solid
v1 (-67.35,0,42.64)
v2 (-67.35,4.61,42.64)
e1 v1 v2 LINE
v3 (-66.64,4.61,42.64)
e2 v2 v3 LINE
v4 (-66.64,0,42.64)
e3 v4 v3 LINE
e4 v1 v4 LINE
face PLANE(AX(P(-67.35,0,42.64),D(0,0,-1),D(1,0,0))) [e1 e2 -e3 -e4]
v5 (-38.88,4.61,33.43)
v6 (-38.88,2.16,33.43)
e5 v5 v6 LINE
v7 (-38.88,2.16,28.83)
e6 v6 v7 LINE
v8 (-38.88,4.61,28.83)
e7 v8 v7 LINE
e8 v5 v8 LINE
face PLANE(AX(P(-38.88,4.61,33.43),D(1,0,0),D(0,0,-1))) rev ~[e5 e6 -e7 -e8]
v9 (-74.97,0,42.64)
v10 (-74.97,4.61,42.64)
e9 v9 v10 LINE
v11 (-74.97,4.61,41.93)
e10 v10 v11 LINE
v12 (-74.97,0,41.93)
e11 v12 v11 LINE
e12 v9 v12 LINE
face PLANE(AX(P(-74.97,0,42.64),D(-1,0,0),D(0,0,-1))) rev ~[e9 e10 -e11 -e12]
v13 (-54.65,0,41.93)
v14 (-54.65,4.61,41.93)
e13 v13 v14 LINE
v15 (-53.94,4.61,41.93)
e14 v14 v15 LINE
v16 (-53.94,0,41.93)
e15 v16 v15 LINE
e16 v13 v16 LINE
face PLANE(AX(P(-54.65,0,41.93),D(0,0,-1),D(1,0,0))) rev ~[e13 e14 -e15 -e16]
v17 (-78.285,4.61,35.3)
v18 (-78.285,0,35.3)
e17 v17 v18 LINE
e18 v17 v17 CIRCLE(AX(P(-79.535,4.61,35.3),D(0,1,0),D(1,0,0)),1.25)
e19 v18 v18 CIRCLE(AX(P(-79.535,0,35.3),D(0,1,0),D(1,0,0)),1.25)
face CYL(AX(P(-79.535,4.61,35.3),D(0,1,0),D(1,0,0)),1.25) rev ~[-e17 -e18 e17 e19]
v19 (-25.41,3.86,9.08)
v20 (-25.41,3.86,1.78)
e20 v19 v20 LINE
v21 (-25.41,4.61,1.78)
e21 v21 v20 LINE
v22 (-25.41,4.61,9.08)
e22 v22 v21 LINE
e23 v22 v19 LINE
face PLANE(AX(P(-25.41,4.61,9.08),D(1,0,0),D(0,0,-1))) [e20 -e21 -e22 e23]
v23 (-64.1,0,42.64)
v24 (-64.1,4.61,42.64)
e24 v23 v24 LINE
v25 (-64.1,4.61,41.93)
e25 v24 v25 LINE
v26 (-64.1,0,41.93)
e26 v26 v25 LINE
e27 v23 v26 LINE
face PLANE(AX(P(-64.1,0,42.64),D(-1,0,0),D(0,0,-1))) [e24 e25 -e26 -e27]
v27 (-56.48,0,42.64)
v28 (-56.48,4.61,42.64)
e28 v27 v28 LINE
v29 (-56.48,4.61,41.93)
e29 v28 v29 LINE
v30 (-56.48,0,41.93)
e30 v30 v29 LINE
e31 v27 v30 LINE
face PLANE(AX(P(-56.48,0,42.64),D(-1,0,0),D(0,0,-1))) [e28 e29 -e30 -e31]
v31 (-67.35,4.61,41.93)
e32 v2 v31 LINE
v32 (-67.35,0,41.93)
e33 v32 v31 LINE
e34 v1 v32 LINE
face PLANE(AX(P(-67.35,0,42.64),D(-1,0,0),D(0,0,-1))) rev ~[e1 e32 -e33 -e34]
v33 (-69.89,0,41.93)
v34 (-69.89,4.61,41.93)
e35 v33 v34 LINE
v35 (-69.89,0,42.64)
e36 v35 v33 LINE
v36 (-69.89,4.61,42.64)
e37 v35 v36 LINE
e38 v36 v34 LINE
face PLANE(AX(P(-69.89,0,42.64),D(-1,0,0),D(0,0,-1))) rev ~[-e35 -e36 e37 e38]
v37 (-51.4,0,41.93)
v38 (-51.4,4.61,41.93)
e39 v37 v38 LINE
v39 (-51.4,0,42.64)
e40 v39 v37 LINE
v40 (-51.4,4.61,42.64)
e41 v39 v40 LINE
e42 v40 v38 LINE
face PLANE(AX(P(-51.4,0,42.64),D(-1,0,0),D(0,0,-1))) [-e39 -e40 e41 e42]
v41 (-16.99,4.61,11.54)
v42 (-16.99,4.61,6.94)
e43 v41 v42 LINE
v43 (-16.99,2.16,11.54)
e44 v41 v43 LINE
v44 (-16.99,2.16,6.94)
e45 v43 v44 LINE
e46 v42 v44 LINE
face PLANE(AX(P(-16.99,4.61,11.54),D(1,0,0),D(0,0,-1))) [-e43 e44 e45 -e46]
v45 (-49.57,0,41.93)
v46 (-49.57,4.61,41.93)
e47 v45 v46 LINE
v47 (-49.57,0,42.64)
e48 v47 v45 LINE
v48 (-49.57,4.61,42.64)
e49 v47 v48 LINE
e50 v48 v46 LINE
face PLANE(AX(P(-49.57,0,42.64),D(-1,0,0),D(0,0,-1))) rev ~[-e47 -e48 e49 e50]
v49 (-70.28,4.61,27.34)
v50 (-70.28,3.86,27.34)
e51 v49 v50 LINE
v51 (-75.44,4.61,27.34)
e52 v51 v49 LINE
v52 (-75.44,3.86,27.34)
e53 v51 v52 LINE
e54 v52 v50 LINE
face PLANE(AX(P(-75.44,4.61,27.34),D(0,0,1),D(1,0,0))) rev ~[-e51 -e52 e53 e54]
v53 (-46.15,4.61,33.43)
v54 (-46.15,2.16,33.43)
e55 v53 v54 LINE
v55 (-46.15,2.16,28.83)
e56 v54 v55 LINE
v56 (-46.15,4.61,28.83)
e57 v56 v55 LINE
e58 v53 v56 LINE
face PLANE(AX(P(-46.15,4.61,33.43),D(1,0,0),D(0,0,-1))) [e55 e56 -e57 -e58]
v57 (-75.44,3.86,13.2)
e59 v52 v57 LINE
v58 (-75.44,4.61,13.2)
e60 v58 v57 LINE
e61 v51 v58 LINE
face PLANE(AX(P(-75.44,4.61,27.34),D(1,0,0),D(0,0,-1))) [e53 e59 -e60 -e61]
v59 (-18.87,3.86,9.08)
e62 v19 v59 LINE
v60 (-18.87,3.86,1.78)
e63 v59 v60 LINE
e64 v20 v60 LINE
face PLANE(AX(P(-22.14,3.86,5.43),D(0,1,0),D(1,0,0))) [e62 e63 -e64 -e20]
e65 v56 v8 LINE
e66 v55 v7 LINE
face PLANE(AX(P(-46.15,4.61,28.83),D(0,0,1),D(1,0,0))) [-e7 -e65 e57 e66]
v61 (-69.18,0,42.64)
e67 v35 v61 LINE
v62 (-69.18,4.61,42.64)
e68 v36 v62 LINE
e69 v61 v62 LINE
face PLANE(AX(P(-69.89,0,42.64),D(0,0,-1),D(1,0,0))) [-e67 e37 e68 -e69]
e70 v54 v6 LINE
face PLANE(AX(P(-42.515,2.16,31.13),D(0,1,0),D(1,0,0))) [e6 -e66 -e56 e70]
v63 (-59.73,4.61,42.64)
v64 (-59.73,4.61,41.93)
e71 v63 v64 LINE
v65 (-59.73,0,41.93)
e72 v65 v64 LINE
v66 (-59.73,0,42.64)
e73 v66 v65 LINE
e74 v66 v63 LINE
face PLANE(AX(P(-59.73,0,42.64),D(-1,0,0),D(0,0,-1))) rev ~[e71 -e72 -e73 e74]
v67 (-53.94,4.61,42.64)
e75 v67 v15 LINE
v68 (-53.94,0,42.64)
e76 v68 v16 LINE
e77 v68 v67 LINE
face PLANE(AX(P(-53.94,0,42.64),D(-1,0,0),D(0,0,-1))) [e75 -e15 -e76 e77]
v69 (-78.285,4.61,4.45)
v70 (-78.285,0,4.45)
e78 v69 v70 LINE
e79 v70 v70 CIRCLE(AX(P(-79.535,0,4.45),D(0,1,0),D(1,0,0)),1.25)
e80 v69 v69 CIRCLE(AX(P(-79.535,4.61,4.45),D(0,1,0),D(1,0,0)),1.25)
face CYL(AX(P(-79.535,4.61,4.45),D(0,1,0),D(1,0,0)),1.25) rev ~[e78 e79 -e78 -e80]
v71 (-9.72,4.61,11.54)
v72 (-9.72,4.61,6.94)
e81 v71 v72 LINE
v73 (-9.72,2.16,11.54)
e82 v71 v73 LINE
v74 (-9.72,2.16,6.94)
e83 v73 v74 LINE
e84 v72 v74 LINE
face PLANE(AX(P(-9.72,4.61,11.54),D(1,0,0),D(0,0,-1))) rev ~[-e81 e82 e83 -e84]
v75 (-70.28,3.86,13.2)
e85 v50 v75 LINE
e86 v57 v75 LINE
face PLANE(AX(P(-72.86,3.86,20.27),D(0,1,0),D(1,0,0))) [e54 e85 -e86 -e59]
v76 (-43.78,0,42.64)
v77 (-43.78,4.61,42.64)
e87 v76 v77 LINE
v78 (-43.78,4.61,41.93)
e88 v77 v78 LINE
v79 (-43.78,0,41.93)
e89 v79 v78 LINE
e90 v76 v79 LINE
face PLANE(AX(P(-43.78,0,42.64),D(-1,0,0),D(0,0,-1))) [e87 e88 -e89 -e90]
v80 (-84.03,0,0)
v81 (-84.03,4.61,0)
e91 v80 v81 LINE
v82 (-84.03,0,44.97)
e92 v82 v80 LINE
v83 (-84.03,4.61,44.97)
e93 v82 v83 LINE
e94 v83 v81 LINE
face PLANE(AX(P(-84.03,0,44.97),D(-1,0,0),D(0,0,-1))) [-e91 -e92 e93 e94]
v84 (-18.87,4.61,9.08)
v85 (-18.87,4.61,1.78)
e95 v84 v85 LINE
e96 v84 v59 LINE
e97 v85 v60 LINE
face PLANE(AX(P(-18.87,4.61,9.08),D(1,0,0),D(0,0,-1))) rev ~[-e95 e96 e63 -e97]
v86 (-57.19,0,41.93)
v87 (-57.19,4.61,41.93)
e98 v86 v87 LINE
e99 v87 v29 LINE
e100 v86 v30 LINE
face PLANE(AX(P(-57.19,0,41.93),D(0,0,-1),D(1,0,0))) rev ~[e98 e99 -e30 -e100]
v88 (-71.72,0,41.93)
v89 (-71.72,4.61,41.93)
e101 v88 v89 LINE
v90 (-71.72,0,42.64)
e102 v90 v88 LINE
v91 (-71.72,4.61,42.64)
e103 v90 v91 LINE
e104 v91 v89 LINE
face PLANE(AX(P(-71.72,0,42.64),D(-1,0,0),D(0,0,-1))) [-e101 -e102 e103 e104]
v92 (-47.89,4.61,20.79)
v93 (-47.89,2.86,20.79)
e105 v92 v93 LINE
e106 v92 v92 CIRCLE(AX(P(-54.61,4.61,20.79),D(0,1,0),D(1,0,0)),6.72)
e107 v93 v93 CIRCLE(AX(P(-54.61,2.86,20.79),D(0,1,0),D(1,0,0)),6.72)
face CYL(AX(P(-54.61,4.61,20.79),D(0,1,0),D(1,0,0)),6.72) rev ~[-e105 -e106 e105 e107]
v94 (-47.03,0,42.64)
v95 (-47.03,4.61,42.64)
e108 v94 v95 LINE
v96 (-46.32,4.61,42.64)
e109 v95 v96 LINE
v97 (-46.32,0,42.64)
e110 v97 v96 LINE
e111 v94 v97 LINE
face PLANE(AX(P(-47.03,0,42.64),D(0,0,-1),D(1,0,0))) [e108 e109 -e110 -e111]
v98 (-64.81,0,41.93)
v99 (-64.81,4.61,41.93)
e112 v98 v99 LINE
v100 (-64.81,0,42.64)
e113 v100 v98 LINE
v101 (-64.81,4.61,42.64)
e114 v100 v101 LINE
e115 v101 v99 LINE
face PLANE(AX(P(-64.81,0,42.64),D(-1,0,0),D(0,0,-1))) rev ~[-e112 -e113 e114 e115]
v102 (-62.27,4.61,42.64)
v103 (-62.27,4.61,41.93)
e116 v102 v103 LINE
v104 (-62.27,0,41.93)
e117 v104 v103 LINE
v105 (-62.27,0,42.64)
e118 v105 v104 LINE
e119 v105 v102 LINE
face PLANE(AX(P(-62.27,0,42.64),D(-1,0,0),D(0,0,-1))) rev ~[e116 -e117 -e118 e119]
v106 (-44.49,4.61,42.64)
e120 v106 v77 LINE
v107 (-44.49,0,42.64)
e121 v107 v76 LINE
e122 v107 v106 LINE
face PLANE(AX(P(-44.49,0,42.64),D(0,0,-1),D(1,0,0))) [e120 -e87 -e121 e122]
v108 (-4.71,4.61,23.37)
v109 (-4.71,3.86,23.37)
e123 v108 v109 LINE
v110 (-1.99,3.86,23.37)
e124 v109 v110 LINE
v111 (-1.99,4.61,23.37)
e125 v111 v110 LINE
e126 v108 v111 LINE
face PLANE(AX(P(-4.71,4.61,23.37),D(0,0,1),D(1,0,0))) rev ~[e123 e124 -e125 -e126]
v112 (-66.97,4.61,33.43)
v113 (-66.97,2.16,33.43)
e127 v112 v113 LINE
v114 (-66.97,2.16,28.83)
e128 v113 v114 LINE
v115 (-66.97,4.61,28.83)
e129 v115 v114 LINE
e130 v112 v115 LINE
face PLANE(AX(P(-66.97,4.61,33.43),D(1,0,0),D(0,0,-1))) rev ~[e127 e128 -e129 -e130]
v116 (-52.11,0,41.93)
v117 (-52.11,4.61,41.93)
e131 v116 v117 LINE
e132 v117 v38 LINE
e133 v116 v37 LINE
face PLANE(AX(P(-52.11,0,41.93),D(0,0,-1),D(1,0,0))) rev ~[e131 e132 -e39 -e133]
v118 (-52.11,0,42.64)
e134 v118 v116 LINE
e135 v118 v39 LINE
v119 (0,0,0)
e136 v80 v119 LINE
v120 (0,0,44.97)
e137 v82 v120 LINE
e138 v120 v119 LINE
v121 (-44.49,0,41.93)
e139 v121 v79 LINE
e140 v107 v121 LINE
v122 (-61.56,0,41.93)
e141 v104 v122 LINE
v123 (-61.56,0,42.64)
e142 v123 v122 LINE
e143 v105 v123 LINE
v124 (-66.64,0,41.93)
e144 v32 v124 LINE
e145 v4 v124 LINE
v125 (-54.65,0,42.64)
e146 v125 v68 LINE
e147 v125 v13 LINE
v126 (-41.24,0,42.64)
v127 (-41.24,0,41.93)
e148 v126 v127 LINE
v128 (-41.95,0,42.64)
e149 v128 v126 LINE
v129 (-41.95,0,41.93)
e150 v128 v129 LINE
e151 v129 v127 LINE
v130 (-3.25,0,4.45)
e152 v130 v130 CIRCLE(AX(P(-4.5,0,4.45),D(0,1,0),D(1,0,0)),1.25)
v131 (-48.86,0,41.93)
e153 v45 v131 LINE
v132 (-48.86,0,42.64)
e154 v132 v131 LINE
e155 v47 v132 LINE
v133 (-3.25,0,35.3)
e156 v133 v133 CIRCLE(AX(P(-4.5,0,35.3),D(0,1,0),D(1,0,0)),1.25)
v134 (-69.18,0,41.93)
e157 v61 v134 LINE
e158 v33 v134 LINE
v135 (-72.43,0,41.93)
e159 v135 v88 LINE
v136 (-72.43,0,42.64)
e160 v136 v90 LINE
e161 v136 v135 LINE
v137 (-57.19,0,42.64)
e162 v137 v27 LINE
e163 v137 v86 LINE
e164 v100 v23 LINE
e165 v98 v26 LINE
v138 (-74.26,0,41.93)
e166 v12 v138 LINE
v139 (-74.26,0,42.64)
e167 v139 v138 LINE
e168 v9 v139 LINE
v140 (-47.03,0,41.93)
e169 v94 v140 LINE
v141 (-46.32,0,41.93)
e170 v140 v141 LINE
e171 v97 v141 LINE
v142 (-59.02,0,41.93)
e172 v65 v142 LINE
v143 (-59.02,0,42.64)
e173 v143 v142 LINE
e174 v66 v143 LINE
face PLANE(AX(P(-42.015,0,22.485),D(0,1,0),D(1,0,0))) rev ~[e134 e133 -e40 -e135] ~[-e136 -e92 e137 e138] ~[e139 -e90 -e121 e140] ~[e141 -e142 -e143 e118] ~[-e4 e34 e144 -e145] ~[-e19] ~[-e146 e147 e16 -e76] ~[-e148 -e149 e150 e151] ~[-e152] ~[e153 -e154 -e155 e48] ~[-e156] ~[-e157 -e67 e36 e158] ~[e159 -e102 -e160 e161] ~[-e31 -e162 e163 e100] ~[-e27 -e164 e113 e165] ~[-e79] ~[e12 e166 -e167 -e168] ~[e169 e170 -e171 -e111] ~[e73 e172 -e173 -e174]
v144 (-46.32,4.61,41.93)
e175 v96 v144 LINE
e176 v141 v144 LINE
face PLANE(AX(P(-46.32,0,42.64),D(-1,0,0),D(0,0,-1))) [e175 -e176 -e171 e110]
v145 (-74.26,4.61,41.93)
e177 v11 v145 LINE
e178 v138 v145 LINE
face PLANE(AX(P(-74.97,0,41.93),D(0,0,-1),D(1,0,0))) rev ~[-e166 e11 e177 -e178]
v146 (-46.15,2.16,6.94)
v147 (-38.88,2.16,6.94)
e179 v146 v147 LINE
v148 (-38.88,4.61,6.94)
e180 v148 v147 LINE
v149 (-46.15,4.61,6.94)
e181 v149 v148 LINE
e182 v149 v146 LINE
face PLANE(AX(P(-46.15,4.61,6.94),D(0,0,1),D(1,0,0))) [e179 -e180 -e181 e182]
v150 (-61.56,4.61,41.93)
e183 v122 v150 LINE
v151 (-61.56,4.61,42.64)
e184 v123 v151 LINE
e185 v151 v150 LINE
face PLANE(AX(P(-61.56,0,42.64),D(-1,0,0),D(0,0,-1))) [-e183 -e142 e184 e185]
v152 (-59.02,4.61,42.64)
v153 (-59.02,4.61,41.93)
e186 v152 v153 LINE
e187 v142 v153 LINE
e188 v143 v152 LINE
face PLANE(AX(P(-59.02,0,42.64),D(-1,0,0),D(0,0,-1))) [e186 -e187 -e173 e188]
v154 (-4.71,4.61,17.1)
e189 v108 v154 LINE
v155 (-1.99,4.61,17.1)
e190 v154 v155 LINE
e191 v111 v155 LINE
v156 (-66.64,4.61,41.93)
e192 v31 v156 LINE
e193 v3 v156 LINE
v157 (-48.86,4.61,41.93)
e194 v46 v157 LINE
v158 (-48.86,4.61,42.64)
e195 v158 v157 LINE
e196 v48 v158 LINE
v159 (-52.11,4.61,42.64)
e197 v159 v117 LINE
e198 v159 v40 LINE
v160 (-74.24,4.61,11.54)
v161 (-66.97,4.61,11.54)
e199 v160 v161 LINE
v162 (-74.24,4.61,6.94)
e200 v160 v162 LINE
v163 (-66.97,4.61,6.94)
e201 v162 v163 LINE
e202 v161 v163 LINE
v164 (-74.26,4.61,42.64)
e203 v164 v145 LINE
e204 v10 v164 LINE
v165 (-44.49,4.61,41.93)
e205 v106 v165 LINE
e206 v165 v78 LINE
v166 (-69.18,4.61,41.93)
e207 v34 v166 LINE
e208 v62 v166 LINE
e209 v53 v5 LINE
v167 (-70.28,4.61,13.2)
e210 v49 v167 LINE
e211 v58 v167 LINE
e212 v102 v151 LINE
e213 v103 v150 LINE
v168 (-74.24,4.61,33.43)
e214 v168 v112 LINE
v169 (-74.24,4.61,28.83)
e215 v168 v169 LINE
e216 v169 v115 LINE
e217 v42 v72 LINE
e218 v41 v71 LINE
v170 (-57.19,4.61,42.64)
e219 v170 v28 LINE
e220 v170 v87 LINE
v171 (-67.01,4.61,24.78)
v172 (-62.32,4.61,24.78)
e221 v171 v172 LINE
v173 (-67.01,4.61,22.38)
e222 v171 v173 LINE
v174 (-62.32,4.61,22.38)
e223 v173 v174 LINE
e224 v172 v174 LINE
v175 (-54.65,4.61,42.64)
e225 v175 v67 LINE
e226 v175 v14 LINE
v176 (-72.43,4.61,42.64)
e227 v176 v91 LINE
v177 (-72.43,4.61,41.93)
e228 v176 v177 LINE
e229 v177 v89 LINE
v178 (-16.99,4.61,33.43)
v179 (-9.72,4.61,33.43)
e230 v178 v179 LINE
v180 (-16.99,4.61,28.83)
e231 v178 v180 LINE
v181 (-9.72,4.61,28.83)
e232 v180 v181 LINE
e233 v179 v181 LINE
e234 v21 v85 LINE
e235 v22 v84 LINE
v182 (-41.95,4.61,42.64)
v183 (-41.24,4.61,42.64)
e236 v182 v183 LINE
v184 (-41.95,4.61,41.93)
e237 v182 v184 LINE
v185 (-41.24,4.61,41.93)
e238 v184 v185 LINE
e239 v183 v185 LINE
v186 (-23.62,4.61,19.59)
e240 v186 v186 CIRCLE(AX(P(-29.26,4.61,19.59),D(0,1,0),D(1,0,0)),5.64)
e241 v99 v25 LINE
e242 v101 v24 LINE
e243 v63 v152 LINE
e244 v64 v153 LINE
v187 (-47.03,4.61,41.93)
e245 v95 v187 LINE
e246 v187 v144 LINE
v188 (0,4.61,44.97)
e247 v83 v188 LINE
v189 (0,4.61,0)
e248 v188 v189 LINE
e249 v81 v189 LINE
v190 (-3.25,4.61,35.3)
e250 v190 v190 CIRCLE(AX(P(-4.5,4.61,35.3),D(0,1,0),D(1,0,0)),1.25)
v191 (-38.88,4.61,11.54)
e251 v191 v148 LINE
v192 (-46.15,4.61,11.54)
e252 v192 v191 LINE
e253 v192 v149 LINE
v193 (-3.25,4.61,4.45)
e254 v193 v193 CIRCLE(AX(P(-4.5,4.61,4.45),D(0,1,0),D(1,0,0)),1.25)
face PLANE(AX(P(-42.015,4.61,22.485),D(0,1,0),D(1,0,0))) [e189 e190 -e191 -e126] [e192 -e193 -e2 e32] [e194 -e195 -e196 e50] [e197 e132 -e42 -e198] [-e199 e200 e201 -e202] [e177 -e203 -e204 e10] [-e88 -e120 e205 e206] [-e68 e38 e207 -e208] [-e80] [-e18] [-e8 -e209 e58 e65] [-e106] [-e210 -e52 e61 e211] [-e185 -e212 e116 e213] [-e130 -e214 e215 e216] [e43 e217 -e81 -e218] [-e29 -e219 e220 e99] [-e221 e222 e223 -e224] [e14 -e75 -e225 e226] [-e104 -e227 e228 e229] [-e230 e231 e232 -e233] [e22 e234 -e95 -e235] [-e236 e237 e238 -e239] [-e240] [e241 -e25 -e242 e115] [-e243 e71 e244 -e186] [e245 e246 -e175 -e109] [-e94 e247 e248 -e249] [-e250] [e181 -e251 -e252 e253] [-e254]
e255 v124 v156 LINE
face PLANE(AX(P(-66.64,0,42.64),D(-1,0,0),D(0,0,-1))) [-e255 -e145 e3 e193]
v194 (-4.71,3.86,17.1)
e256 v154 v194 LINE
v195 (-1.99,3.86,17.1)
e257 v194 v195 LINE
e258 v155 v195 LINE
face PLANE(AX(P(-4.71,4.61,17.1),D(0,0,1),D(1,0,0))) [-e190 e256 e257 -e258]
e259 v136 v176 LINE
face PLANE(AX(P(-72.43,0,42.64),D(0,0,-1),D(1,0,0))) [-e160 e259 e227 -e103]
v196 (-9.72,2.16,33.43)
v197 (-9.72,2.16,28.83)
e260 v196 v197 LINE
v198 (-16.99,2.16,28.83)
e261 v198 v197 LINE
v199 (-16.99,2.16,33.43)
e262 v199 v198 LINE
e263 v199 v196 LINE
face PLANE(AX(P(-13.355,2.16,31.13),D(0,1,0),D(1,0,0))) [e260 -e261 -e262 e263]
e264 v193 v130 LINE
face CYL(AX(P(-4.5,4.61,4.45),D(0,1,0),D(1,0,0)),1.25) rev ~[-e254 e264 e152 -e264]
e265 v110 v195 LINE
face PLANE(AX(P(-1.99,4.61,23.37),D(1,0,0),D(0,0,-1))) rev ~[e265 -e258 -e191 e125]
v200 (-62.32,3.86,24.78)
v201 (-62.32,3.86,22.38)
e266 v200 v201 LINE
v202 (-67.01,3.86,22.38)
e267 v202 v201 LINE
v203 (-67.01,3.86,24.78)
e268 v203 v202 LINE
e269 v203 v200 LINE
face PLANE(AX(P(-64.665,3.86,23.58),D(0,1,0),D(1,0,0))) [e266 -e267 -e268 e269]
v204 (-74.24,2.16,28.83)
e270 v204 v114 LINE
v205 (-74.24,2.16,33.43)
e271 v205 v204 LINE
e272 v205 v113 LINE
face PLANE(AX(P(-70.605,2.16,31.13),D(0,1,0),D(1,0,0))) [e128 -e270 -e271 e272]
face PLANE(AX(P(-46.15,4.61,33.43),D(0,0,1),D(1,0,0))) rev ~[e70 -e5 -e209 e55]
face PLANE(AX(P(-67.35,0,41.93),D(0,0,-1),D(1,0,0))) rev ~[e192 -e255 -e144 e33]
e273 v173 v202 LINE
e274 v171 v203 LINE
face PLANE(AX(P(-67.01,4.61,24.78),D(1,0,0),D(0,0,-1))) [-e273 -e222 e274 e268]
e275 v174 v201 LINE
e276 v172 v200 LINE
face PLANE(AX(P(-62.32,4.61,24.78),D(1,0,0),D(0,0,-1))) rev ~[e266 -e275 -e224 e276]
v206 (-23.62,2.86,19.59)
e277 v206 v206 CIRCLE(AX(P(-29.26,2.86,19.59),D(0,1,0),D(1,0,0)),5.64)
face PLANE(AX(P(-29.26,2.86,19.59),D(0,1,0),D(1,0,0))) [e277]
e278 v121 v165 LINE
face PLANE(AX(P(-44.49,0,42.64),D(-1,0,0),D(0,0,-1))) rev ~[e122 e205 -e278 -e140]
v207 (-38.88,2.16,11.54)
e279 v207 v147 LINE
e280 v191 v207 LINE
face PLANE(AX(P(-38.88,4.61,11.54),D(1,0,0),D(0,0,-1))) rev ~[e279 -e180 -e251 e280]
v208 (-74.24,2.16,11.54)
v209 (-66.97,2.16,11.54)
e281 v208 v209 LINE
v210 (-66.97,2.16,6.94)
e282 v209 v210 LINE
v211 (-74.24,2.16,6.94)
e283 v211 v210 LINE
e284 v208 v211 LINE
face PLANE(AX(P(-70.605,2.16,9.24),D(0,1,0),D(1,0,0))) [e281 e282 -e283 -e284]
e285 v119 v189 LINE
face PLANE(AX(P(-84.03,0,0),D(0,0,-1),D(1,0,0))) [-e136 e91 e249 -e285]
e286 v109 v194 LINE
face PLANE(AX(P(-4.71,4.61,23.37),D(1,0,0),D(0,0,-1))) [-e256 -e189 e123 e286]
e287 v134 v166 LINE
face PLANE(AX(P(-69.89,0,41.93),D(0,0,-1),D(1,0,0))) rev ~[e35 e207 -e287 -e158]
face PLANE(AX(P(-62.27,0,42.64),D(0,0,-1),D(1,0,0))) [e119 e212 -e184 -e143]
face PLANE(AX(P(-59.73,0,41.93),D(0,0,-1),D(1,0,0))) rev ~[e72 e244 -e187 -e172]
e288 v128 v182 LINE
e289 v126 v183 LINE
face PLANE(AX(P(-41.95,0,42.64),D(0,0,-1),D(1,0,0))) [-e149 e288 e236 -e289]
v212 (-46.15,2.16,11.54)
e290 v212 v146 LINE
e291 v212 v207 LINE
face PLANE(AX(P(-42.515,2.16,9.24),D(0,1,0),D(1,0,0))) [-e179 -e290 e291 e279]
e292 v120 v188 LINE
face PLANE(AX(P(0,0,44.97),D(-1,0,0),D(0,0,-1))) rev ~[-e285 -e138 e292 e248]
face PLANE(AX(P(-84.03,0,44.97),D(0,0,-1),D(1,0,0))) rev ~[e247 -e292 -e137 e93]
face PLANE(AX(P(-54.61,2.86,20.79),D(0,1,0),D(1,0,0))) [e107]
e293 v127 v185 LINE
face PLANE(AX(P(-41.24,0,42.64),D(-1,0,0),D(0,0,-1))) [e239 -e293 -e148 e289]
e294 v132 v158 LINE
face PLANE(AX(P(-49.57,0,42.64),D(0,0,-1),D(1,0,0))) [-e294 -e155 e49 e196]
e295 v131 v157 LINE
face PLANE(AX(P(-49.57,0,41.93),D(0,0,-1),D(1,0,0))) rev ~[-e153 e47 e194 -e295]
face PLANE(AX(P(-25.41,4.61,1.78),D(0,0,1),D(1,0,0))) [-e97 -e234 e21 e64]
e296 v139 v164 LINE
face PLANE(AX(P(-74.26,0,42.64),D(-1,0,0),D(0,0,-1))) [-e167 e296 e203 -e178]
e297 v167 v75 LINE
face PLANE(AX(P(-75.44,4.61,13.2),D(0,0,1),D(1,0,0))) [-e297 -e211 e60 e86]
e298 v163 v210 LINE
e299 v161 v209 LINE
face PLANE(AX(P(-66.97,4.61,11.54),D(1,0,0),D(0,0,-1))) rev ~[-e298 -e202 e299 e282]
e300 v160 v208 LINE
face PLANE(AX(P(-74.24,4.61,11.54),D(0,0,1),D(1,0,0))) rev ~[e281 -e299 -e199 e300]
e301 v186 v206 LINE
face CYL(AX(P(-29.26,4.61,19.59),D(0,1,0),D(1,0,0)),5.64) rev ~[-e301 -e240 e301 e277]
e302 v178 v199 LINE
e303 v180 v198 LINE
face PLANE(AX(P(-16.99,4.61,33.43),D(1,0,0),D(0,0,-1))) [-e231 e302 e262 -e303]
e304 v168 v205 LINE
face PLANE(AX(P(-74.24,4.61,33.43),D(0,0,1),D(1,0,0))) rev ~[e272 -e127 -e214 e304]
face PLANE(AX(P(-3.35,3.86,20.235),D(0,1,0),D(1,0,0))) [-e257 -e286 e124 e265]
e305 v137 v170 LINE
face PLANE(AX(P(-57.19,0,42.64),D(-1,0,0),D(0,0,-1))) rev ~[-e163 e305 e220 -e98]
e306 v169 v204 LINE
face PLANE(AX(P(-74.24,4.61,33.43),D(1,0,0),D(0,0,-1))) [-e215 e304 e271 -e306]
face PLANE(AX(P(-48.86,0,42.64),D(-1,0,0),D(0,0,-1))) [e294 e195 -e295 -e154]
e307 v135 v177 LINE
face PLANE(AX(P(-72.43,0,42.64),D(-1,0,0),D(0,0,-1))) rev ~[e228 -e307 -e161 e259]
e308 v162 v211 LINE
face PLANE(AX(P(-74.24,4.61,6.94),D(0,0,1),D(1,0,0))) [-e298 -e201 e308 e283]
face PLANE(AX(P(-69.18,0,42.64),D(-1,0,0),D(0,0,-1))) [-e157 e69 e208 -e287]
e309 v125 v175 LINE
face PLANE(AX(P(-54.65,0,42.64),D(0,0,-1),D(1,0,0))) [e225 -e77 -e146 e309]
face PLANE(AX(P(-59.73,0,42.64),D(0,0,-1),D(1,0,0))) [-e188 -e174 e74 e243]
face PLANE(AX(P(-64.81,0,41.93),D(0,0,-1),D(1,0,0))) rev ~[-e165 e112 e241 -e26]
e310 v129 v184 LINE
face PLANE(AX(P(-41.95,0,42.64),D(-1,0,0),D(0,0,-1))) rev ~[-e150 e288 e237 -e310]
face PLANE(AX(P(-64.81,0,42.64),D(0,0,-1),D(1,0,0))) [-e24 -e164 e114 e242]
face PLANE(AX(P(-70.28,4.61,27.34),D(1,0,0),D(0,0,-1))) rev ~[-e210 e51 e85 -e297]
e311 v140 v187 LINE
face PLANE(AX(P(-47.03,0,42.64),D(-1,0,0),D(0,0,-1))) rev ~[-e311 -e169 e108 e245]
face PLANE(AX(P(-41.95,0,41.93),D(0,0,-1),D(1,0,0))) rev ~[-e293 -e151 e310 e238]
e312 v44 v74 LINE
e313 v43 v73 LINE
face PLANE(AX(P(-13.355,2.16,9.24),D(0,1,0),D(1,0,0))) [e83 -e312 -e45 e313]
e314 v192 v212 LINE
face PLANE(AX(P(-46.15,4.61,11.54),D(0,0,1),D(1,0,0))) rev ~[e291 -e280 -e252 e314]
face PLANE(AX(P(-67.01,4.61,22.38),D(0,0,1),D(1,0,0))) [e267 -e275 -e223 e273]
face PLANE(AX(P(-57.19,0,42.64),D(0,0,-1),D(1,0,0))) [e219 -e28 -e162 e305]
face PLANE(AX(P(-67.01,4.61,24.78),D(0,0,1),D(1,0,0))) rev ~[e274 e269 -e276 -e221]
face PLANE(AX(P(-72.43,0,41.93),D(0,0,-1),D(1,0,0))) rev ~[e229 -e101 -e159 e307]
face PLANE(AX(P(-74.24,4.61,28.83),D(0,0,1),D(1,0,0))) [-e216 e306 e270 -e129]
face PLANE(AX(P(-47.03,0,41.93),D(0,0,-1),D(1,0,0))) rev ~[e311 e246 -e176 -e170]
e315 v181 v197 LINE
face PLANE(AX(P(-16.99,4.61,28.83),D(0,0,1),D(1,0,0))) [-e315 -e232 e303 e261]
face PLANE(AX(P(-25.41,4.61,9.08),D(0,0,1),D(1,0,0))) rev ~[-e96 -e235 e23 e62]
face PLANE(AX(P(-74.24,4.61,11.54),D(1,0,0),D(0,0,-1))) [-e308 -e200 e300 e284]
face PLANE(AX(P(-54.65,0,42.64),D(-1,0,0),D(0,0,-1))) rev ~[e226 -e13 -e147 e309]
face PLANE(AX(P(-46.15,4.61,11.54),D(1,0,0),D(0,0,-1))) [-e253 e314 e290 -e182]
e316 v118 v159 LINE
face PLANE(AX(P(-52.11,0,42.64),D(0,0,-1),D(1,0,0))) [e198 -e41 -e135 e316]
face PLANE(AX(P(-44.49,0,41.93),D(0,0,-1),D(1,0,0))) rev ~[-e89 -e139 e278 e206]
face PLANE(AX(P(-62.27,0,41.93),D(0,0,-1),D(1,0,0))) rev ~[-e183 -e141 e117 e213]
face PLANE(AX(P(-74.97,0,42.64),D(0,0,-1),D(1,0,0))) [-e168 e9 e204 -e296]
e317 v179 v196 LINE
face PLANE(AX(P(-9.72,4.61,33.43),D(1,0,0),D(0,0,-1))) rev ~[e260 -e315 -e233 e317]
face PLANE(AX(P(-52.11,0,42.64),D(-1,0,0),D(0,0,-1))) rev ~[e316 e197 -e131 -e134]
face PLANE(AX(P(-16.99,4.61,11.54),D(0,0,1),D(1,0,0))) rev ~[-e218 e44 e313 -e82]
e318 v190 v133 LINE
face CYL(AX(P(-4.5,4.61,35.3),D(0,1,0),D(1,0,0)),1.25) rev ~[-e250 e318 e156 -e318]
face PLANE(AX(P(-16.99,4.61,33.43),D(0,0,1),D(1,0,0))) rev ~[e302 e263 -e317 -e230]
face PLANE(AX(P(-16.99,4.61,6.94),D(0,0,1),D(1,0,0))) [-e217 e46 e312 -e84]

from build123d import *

# Parameters (mm, degrees)
SKETCH1_W           = 84.03
SKETCH1_H           = 44.97
SKETCH1_W_2         = 0.71
SKETCH1_H_2         = 0.71
BOSS_EXTRUDE1_DEPTH = 4.61
CUT_EXTRUDE1_REACH  = 97.418
SKETCH2_R           = 1.25
SKETCH2_3_W         = 7.27
SKETCH2_3_H         = 4.6
CUT_EXTRUDE2_DEPTH  = 2.45
SKETCH2_4_R         = 6.72
SKETCH2_4_R_2       = 5.64
CUT_EXTRUDE3_DEPTH  = 1.75
SKETCH2_5_W         = 6.54
SKETCH2_5_H         = 7.3
SKETCH2_5_W_2       = 2.72
SKETCH2_5_H_2       = 6.27
SKETCH2_5_W_3       = 5.16
SKETCH2_5_H_3       = 14.14
SKETCH2_5_W_4       = 4.69
SKETCH2_5_H_4       = 2.4
CUT_EXTRUDE4_DEPTH  = 0.75


with BuildPart() as part:
    # Sketch1 → Boss-Extrude1 (new body)
    with BuildSketch(Plane(origin=(0, 0, 0), x_dir=(1, 0, 0), z_dir=(0, 1, 0))):
        with Locations((-42.015, -22.485)):
            Rectangle(SKETCH1_W, SKETCH1_H)
        with Locations((-74.615, -42.285)):
            Rectangle(SKETCH1_W_2, SKETCH1_H_2, mode=Mode.SUBTRACT)
        with Locations((-72.075, -42.285)):
            Rectangle(SKETCH1_W_2, SKETCH1_H_2, mode=Mode.SUBTRACT)
        with Locations((-69.535, -42.285)):
            Rectangle(SKETCH1_W_2, SKETCH1_H_2, mode=Mode.SUBTRACT)
        with Locations((-66.995, -42.285)):
            Rectangle(SKETCH1_W_2, SKETCH1_H_2, mode=Mode.SUBTRACT)
        with Locations((-64.455, -42.285)):
            Rectangle(SKETCH1_W_2, SKETCH1_H_2, mode=Mode.SUBTRACT)
        with Locations((-61.915, -42.285)):
            Rectangle(SKETCH1_W_2, SKETCH1_H_2, mode=Mode.SUBTRACT)
        with Locations((-59.375, -42.285)):
            Rectangle(SKETCH1_W_2, SKETCH1_H_2, mode=Mode.SUBTRACT)
        with Locations((-56.835, -42.285)):
            Rectangle(SKETCH1_W_2, SKETCH1_H_2, mode=Mode.SUBTRACT)
        with Locations((-54.295, -42.285)):
            Rectangle(SKETCH1_W_2, SKETCH1_H_2, mode=Mode.SUBTRACT)
        with Locations((-51.755, -42.285)):
            Rectangle(SKETCH1_W_2, SKETCH1_H_2, mode=Mode.SUBTRACT)
        with Locations((-49.215, -42.285)):
            Rectangle(SKETCH1_W_2, SKETCH1_H_2, mode=Mode.SUBTRACT)
        with Locations((-46.675, -42.285)):
            Rectangle(SKETCH1_W_2, SKETCH1_H_2, mode=Mode.SUBTRACT)
        with Locations((-44.135, -42.285)):
            Rectangle(SKETCH1_W_2, SKETCH1_H_2, mode=Mode.SUBTRACT)
        with Locations((-41.595, -42.285)):
            Rectangle(SKETCH1_W_2, SKETCH1_H_2, mode=Mode.SUBTRACT)
    extrude(amount=BOSS_EXTRUDE1_DEPTH)

    # Sketch2 → Cut-Extrude1 (cut, up to next)
    with BuildSketch(Plane(origin=(0, 4.61, 0), x_dir=(1, 0, 0), z_dir=(0, 1, 0)), mode=Mode.PRIVATE) as cut_extrude1_sk1:
        with Locations((-79.535, -4.45)):
            Circle(SKETCH2_R)
    cut_extrude1_tool1 = extrude(cut_extrude1_sk1.sketch, amount=-CUT_EXTRUDE1_REACH, mode=Mode.PRIVATE) & part.part
    # Sketch2 → Cut-Extrude1 (cut, up to next)
    with BuildSketch(Plane(origin=(0, 4.61, 0), x_dir=(1, 0, 0), z_dir=(0, 1, 0)), mode=Mode.PRIVATE) as cut_extrude1_sk2:
        with Locations((-79.535, -35.3)):
            Circle(SKETCH2_R)
    cut_extrude1_tool2 = extrude(cut_extrude1_sk2.sketch, amount=-CUT_EXTRUDE1_REACH, mode=Mode.PRIVATE) & part.part
    # Sketch2 → Cut-Extrude1 (cut, up to next)
    with BuildSketch(Plane(origin=(0, 4.61, 0), x_dir=(1, 0, 0), z_dir=(0, 1, 0)), mode=Mode.PRIVATE) as cut_extrude1_sk3:
        with Locations((-4.5, -4.45)):
            Circle(SKETCH2_R)
    cut_extrude1_tool3 = extrude(cut_extrude1_sk3.sketch, amount=-CUT_EXTRUDE1_REACH, mode=Mode.PRIVATE) & part.part
    # Sketch2 → Cut-Extrude1 (cut, up to next)
    with BuildSketch(Plane(origin=(0, 4.61, 0), x_dir=(1, 0, 0), z_dir=(0, 1, 0)), mode=Mode.PRIVATE) as cut_extrude1_sk4:
        with Locations((-4.5, -35.3)):
            Circle(SKETCH2_R)
    cut_extrude1_tool4 = extrude(cut_extrude1_sk4.sketch, amount=-CUT_EXTRUDE1_REACH, mode=Mode.PRIVATE) & part.part
    add(cut_extrude1_tool1.solids().sort_by_distance((-79.535, 4.61, 4.45))[0], mode=Mode.SUBTRACT)
    add(cut_extrude1_tool2.solids().sort_by_distance((-79.535, 4.61, 35.3))[0], mode=Mode.SUBTRACT)
    add(cut_extrude1_tool3.solids().sort_by_distance((-4.5, 4.61, 4.45))[0], mode=Mode.SUBTRACT)
    add(cut_extrude1_tool4.solids().sort_by_distance((-4.5, 4.61, 35.3))[0], mode=Mode.SUBTRACT)

    # Sketch2<3> → Cut-Extrude2 (cut)
    with BuildSketch(Plane(origin=(0, 4.61, 0), x_dir=(1, 0, 0), z_dir=(0, 1, 0))):
        with Locations((-13.355, -9.24)):
            Rectangle(SKETCH2_3_W, SKETCH2_3_H)
        with Locations((-42.515, -9.24)):
            Rectangle(SKETCH2_3_W, SKETCH2_3_H)
        with Locations((-70.605, -9.24)):
            Rectangle(SKETCH2_3_W, SKETCH2_3_H)
        with Locations((-70.605, -31.13)):
            Rectangle(SKETCH2_3_W, SKETCH2_3_H)
        with Locations((-42.515, -31.13)):
            Rectangle(SKETCH2_3_W, SKETCH2_3_H)
        with Locations((-13.355, -31.13)):
            Rectangle(SKETCH2_3_W, SKETCH2_3_H)
    extrude(amount=-CUT_EXTRUDE2_DEPTH, mode=Mode.SUBTRACT)

    # Sketch2<4> → Cut-Extrude3 (cut)
    with BuildSketch(Plane(origin=(0, 4.61, 0), x_dir=(1, 0, 0), z_dir=(0, 1, 0))):
        with Locations((-54.61, -20.79)):
            Circle(SKETCH2_4_R)
        with Locations((-29.26, -19.59)):
            Circle(SKETCH2_4_R_2)
    extrude(amount=-CUT_EXTRUDE3_DEPTH, mode=Mode.SUBTRACT)

    # Sketch2<5> → Cut-Extrude4 (cut)
    with BuildSketch(Plane(origin=(0, 4.61, 0), x_dir=(1, 0, 0), z_dir=(0, 1, 0))):
        with Locations((-22.14, -5.43)):
            Rectangle(SKETCH2_5_W, SKETCH2_5_H)
        with Locations((-3.35, -20.235)):
            Rectangle(SKETCH2_5_W_2, SKETCH2_5_H_2)
        with Locations((-72.86, -20.27)):
            Rectangle(SKETCH2_5_W_3, SKETCH2_5_H_3)
        with Locations((-64.665, -23.58)):
            Rectangle(SKETCH2_5_W_4, SKETCH2_5_H_4)
    extrude(amount=-CUT_EXTRUDE4_DEPTH, mode=Mode.SUBTRACT)


solid = part.part
